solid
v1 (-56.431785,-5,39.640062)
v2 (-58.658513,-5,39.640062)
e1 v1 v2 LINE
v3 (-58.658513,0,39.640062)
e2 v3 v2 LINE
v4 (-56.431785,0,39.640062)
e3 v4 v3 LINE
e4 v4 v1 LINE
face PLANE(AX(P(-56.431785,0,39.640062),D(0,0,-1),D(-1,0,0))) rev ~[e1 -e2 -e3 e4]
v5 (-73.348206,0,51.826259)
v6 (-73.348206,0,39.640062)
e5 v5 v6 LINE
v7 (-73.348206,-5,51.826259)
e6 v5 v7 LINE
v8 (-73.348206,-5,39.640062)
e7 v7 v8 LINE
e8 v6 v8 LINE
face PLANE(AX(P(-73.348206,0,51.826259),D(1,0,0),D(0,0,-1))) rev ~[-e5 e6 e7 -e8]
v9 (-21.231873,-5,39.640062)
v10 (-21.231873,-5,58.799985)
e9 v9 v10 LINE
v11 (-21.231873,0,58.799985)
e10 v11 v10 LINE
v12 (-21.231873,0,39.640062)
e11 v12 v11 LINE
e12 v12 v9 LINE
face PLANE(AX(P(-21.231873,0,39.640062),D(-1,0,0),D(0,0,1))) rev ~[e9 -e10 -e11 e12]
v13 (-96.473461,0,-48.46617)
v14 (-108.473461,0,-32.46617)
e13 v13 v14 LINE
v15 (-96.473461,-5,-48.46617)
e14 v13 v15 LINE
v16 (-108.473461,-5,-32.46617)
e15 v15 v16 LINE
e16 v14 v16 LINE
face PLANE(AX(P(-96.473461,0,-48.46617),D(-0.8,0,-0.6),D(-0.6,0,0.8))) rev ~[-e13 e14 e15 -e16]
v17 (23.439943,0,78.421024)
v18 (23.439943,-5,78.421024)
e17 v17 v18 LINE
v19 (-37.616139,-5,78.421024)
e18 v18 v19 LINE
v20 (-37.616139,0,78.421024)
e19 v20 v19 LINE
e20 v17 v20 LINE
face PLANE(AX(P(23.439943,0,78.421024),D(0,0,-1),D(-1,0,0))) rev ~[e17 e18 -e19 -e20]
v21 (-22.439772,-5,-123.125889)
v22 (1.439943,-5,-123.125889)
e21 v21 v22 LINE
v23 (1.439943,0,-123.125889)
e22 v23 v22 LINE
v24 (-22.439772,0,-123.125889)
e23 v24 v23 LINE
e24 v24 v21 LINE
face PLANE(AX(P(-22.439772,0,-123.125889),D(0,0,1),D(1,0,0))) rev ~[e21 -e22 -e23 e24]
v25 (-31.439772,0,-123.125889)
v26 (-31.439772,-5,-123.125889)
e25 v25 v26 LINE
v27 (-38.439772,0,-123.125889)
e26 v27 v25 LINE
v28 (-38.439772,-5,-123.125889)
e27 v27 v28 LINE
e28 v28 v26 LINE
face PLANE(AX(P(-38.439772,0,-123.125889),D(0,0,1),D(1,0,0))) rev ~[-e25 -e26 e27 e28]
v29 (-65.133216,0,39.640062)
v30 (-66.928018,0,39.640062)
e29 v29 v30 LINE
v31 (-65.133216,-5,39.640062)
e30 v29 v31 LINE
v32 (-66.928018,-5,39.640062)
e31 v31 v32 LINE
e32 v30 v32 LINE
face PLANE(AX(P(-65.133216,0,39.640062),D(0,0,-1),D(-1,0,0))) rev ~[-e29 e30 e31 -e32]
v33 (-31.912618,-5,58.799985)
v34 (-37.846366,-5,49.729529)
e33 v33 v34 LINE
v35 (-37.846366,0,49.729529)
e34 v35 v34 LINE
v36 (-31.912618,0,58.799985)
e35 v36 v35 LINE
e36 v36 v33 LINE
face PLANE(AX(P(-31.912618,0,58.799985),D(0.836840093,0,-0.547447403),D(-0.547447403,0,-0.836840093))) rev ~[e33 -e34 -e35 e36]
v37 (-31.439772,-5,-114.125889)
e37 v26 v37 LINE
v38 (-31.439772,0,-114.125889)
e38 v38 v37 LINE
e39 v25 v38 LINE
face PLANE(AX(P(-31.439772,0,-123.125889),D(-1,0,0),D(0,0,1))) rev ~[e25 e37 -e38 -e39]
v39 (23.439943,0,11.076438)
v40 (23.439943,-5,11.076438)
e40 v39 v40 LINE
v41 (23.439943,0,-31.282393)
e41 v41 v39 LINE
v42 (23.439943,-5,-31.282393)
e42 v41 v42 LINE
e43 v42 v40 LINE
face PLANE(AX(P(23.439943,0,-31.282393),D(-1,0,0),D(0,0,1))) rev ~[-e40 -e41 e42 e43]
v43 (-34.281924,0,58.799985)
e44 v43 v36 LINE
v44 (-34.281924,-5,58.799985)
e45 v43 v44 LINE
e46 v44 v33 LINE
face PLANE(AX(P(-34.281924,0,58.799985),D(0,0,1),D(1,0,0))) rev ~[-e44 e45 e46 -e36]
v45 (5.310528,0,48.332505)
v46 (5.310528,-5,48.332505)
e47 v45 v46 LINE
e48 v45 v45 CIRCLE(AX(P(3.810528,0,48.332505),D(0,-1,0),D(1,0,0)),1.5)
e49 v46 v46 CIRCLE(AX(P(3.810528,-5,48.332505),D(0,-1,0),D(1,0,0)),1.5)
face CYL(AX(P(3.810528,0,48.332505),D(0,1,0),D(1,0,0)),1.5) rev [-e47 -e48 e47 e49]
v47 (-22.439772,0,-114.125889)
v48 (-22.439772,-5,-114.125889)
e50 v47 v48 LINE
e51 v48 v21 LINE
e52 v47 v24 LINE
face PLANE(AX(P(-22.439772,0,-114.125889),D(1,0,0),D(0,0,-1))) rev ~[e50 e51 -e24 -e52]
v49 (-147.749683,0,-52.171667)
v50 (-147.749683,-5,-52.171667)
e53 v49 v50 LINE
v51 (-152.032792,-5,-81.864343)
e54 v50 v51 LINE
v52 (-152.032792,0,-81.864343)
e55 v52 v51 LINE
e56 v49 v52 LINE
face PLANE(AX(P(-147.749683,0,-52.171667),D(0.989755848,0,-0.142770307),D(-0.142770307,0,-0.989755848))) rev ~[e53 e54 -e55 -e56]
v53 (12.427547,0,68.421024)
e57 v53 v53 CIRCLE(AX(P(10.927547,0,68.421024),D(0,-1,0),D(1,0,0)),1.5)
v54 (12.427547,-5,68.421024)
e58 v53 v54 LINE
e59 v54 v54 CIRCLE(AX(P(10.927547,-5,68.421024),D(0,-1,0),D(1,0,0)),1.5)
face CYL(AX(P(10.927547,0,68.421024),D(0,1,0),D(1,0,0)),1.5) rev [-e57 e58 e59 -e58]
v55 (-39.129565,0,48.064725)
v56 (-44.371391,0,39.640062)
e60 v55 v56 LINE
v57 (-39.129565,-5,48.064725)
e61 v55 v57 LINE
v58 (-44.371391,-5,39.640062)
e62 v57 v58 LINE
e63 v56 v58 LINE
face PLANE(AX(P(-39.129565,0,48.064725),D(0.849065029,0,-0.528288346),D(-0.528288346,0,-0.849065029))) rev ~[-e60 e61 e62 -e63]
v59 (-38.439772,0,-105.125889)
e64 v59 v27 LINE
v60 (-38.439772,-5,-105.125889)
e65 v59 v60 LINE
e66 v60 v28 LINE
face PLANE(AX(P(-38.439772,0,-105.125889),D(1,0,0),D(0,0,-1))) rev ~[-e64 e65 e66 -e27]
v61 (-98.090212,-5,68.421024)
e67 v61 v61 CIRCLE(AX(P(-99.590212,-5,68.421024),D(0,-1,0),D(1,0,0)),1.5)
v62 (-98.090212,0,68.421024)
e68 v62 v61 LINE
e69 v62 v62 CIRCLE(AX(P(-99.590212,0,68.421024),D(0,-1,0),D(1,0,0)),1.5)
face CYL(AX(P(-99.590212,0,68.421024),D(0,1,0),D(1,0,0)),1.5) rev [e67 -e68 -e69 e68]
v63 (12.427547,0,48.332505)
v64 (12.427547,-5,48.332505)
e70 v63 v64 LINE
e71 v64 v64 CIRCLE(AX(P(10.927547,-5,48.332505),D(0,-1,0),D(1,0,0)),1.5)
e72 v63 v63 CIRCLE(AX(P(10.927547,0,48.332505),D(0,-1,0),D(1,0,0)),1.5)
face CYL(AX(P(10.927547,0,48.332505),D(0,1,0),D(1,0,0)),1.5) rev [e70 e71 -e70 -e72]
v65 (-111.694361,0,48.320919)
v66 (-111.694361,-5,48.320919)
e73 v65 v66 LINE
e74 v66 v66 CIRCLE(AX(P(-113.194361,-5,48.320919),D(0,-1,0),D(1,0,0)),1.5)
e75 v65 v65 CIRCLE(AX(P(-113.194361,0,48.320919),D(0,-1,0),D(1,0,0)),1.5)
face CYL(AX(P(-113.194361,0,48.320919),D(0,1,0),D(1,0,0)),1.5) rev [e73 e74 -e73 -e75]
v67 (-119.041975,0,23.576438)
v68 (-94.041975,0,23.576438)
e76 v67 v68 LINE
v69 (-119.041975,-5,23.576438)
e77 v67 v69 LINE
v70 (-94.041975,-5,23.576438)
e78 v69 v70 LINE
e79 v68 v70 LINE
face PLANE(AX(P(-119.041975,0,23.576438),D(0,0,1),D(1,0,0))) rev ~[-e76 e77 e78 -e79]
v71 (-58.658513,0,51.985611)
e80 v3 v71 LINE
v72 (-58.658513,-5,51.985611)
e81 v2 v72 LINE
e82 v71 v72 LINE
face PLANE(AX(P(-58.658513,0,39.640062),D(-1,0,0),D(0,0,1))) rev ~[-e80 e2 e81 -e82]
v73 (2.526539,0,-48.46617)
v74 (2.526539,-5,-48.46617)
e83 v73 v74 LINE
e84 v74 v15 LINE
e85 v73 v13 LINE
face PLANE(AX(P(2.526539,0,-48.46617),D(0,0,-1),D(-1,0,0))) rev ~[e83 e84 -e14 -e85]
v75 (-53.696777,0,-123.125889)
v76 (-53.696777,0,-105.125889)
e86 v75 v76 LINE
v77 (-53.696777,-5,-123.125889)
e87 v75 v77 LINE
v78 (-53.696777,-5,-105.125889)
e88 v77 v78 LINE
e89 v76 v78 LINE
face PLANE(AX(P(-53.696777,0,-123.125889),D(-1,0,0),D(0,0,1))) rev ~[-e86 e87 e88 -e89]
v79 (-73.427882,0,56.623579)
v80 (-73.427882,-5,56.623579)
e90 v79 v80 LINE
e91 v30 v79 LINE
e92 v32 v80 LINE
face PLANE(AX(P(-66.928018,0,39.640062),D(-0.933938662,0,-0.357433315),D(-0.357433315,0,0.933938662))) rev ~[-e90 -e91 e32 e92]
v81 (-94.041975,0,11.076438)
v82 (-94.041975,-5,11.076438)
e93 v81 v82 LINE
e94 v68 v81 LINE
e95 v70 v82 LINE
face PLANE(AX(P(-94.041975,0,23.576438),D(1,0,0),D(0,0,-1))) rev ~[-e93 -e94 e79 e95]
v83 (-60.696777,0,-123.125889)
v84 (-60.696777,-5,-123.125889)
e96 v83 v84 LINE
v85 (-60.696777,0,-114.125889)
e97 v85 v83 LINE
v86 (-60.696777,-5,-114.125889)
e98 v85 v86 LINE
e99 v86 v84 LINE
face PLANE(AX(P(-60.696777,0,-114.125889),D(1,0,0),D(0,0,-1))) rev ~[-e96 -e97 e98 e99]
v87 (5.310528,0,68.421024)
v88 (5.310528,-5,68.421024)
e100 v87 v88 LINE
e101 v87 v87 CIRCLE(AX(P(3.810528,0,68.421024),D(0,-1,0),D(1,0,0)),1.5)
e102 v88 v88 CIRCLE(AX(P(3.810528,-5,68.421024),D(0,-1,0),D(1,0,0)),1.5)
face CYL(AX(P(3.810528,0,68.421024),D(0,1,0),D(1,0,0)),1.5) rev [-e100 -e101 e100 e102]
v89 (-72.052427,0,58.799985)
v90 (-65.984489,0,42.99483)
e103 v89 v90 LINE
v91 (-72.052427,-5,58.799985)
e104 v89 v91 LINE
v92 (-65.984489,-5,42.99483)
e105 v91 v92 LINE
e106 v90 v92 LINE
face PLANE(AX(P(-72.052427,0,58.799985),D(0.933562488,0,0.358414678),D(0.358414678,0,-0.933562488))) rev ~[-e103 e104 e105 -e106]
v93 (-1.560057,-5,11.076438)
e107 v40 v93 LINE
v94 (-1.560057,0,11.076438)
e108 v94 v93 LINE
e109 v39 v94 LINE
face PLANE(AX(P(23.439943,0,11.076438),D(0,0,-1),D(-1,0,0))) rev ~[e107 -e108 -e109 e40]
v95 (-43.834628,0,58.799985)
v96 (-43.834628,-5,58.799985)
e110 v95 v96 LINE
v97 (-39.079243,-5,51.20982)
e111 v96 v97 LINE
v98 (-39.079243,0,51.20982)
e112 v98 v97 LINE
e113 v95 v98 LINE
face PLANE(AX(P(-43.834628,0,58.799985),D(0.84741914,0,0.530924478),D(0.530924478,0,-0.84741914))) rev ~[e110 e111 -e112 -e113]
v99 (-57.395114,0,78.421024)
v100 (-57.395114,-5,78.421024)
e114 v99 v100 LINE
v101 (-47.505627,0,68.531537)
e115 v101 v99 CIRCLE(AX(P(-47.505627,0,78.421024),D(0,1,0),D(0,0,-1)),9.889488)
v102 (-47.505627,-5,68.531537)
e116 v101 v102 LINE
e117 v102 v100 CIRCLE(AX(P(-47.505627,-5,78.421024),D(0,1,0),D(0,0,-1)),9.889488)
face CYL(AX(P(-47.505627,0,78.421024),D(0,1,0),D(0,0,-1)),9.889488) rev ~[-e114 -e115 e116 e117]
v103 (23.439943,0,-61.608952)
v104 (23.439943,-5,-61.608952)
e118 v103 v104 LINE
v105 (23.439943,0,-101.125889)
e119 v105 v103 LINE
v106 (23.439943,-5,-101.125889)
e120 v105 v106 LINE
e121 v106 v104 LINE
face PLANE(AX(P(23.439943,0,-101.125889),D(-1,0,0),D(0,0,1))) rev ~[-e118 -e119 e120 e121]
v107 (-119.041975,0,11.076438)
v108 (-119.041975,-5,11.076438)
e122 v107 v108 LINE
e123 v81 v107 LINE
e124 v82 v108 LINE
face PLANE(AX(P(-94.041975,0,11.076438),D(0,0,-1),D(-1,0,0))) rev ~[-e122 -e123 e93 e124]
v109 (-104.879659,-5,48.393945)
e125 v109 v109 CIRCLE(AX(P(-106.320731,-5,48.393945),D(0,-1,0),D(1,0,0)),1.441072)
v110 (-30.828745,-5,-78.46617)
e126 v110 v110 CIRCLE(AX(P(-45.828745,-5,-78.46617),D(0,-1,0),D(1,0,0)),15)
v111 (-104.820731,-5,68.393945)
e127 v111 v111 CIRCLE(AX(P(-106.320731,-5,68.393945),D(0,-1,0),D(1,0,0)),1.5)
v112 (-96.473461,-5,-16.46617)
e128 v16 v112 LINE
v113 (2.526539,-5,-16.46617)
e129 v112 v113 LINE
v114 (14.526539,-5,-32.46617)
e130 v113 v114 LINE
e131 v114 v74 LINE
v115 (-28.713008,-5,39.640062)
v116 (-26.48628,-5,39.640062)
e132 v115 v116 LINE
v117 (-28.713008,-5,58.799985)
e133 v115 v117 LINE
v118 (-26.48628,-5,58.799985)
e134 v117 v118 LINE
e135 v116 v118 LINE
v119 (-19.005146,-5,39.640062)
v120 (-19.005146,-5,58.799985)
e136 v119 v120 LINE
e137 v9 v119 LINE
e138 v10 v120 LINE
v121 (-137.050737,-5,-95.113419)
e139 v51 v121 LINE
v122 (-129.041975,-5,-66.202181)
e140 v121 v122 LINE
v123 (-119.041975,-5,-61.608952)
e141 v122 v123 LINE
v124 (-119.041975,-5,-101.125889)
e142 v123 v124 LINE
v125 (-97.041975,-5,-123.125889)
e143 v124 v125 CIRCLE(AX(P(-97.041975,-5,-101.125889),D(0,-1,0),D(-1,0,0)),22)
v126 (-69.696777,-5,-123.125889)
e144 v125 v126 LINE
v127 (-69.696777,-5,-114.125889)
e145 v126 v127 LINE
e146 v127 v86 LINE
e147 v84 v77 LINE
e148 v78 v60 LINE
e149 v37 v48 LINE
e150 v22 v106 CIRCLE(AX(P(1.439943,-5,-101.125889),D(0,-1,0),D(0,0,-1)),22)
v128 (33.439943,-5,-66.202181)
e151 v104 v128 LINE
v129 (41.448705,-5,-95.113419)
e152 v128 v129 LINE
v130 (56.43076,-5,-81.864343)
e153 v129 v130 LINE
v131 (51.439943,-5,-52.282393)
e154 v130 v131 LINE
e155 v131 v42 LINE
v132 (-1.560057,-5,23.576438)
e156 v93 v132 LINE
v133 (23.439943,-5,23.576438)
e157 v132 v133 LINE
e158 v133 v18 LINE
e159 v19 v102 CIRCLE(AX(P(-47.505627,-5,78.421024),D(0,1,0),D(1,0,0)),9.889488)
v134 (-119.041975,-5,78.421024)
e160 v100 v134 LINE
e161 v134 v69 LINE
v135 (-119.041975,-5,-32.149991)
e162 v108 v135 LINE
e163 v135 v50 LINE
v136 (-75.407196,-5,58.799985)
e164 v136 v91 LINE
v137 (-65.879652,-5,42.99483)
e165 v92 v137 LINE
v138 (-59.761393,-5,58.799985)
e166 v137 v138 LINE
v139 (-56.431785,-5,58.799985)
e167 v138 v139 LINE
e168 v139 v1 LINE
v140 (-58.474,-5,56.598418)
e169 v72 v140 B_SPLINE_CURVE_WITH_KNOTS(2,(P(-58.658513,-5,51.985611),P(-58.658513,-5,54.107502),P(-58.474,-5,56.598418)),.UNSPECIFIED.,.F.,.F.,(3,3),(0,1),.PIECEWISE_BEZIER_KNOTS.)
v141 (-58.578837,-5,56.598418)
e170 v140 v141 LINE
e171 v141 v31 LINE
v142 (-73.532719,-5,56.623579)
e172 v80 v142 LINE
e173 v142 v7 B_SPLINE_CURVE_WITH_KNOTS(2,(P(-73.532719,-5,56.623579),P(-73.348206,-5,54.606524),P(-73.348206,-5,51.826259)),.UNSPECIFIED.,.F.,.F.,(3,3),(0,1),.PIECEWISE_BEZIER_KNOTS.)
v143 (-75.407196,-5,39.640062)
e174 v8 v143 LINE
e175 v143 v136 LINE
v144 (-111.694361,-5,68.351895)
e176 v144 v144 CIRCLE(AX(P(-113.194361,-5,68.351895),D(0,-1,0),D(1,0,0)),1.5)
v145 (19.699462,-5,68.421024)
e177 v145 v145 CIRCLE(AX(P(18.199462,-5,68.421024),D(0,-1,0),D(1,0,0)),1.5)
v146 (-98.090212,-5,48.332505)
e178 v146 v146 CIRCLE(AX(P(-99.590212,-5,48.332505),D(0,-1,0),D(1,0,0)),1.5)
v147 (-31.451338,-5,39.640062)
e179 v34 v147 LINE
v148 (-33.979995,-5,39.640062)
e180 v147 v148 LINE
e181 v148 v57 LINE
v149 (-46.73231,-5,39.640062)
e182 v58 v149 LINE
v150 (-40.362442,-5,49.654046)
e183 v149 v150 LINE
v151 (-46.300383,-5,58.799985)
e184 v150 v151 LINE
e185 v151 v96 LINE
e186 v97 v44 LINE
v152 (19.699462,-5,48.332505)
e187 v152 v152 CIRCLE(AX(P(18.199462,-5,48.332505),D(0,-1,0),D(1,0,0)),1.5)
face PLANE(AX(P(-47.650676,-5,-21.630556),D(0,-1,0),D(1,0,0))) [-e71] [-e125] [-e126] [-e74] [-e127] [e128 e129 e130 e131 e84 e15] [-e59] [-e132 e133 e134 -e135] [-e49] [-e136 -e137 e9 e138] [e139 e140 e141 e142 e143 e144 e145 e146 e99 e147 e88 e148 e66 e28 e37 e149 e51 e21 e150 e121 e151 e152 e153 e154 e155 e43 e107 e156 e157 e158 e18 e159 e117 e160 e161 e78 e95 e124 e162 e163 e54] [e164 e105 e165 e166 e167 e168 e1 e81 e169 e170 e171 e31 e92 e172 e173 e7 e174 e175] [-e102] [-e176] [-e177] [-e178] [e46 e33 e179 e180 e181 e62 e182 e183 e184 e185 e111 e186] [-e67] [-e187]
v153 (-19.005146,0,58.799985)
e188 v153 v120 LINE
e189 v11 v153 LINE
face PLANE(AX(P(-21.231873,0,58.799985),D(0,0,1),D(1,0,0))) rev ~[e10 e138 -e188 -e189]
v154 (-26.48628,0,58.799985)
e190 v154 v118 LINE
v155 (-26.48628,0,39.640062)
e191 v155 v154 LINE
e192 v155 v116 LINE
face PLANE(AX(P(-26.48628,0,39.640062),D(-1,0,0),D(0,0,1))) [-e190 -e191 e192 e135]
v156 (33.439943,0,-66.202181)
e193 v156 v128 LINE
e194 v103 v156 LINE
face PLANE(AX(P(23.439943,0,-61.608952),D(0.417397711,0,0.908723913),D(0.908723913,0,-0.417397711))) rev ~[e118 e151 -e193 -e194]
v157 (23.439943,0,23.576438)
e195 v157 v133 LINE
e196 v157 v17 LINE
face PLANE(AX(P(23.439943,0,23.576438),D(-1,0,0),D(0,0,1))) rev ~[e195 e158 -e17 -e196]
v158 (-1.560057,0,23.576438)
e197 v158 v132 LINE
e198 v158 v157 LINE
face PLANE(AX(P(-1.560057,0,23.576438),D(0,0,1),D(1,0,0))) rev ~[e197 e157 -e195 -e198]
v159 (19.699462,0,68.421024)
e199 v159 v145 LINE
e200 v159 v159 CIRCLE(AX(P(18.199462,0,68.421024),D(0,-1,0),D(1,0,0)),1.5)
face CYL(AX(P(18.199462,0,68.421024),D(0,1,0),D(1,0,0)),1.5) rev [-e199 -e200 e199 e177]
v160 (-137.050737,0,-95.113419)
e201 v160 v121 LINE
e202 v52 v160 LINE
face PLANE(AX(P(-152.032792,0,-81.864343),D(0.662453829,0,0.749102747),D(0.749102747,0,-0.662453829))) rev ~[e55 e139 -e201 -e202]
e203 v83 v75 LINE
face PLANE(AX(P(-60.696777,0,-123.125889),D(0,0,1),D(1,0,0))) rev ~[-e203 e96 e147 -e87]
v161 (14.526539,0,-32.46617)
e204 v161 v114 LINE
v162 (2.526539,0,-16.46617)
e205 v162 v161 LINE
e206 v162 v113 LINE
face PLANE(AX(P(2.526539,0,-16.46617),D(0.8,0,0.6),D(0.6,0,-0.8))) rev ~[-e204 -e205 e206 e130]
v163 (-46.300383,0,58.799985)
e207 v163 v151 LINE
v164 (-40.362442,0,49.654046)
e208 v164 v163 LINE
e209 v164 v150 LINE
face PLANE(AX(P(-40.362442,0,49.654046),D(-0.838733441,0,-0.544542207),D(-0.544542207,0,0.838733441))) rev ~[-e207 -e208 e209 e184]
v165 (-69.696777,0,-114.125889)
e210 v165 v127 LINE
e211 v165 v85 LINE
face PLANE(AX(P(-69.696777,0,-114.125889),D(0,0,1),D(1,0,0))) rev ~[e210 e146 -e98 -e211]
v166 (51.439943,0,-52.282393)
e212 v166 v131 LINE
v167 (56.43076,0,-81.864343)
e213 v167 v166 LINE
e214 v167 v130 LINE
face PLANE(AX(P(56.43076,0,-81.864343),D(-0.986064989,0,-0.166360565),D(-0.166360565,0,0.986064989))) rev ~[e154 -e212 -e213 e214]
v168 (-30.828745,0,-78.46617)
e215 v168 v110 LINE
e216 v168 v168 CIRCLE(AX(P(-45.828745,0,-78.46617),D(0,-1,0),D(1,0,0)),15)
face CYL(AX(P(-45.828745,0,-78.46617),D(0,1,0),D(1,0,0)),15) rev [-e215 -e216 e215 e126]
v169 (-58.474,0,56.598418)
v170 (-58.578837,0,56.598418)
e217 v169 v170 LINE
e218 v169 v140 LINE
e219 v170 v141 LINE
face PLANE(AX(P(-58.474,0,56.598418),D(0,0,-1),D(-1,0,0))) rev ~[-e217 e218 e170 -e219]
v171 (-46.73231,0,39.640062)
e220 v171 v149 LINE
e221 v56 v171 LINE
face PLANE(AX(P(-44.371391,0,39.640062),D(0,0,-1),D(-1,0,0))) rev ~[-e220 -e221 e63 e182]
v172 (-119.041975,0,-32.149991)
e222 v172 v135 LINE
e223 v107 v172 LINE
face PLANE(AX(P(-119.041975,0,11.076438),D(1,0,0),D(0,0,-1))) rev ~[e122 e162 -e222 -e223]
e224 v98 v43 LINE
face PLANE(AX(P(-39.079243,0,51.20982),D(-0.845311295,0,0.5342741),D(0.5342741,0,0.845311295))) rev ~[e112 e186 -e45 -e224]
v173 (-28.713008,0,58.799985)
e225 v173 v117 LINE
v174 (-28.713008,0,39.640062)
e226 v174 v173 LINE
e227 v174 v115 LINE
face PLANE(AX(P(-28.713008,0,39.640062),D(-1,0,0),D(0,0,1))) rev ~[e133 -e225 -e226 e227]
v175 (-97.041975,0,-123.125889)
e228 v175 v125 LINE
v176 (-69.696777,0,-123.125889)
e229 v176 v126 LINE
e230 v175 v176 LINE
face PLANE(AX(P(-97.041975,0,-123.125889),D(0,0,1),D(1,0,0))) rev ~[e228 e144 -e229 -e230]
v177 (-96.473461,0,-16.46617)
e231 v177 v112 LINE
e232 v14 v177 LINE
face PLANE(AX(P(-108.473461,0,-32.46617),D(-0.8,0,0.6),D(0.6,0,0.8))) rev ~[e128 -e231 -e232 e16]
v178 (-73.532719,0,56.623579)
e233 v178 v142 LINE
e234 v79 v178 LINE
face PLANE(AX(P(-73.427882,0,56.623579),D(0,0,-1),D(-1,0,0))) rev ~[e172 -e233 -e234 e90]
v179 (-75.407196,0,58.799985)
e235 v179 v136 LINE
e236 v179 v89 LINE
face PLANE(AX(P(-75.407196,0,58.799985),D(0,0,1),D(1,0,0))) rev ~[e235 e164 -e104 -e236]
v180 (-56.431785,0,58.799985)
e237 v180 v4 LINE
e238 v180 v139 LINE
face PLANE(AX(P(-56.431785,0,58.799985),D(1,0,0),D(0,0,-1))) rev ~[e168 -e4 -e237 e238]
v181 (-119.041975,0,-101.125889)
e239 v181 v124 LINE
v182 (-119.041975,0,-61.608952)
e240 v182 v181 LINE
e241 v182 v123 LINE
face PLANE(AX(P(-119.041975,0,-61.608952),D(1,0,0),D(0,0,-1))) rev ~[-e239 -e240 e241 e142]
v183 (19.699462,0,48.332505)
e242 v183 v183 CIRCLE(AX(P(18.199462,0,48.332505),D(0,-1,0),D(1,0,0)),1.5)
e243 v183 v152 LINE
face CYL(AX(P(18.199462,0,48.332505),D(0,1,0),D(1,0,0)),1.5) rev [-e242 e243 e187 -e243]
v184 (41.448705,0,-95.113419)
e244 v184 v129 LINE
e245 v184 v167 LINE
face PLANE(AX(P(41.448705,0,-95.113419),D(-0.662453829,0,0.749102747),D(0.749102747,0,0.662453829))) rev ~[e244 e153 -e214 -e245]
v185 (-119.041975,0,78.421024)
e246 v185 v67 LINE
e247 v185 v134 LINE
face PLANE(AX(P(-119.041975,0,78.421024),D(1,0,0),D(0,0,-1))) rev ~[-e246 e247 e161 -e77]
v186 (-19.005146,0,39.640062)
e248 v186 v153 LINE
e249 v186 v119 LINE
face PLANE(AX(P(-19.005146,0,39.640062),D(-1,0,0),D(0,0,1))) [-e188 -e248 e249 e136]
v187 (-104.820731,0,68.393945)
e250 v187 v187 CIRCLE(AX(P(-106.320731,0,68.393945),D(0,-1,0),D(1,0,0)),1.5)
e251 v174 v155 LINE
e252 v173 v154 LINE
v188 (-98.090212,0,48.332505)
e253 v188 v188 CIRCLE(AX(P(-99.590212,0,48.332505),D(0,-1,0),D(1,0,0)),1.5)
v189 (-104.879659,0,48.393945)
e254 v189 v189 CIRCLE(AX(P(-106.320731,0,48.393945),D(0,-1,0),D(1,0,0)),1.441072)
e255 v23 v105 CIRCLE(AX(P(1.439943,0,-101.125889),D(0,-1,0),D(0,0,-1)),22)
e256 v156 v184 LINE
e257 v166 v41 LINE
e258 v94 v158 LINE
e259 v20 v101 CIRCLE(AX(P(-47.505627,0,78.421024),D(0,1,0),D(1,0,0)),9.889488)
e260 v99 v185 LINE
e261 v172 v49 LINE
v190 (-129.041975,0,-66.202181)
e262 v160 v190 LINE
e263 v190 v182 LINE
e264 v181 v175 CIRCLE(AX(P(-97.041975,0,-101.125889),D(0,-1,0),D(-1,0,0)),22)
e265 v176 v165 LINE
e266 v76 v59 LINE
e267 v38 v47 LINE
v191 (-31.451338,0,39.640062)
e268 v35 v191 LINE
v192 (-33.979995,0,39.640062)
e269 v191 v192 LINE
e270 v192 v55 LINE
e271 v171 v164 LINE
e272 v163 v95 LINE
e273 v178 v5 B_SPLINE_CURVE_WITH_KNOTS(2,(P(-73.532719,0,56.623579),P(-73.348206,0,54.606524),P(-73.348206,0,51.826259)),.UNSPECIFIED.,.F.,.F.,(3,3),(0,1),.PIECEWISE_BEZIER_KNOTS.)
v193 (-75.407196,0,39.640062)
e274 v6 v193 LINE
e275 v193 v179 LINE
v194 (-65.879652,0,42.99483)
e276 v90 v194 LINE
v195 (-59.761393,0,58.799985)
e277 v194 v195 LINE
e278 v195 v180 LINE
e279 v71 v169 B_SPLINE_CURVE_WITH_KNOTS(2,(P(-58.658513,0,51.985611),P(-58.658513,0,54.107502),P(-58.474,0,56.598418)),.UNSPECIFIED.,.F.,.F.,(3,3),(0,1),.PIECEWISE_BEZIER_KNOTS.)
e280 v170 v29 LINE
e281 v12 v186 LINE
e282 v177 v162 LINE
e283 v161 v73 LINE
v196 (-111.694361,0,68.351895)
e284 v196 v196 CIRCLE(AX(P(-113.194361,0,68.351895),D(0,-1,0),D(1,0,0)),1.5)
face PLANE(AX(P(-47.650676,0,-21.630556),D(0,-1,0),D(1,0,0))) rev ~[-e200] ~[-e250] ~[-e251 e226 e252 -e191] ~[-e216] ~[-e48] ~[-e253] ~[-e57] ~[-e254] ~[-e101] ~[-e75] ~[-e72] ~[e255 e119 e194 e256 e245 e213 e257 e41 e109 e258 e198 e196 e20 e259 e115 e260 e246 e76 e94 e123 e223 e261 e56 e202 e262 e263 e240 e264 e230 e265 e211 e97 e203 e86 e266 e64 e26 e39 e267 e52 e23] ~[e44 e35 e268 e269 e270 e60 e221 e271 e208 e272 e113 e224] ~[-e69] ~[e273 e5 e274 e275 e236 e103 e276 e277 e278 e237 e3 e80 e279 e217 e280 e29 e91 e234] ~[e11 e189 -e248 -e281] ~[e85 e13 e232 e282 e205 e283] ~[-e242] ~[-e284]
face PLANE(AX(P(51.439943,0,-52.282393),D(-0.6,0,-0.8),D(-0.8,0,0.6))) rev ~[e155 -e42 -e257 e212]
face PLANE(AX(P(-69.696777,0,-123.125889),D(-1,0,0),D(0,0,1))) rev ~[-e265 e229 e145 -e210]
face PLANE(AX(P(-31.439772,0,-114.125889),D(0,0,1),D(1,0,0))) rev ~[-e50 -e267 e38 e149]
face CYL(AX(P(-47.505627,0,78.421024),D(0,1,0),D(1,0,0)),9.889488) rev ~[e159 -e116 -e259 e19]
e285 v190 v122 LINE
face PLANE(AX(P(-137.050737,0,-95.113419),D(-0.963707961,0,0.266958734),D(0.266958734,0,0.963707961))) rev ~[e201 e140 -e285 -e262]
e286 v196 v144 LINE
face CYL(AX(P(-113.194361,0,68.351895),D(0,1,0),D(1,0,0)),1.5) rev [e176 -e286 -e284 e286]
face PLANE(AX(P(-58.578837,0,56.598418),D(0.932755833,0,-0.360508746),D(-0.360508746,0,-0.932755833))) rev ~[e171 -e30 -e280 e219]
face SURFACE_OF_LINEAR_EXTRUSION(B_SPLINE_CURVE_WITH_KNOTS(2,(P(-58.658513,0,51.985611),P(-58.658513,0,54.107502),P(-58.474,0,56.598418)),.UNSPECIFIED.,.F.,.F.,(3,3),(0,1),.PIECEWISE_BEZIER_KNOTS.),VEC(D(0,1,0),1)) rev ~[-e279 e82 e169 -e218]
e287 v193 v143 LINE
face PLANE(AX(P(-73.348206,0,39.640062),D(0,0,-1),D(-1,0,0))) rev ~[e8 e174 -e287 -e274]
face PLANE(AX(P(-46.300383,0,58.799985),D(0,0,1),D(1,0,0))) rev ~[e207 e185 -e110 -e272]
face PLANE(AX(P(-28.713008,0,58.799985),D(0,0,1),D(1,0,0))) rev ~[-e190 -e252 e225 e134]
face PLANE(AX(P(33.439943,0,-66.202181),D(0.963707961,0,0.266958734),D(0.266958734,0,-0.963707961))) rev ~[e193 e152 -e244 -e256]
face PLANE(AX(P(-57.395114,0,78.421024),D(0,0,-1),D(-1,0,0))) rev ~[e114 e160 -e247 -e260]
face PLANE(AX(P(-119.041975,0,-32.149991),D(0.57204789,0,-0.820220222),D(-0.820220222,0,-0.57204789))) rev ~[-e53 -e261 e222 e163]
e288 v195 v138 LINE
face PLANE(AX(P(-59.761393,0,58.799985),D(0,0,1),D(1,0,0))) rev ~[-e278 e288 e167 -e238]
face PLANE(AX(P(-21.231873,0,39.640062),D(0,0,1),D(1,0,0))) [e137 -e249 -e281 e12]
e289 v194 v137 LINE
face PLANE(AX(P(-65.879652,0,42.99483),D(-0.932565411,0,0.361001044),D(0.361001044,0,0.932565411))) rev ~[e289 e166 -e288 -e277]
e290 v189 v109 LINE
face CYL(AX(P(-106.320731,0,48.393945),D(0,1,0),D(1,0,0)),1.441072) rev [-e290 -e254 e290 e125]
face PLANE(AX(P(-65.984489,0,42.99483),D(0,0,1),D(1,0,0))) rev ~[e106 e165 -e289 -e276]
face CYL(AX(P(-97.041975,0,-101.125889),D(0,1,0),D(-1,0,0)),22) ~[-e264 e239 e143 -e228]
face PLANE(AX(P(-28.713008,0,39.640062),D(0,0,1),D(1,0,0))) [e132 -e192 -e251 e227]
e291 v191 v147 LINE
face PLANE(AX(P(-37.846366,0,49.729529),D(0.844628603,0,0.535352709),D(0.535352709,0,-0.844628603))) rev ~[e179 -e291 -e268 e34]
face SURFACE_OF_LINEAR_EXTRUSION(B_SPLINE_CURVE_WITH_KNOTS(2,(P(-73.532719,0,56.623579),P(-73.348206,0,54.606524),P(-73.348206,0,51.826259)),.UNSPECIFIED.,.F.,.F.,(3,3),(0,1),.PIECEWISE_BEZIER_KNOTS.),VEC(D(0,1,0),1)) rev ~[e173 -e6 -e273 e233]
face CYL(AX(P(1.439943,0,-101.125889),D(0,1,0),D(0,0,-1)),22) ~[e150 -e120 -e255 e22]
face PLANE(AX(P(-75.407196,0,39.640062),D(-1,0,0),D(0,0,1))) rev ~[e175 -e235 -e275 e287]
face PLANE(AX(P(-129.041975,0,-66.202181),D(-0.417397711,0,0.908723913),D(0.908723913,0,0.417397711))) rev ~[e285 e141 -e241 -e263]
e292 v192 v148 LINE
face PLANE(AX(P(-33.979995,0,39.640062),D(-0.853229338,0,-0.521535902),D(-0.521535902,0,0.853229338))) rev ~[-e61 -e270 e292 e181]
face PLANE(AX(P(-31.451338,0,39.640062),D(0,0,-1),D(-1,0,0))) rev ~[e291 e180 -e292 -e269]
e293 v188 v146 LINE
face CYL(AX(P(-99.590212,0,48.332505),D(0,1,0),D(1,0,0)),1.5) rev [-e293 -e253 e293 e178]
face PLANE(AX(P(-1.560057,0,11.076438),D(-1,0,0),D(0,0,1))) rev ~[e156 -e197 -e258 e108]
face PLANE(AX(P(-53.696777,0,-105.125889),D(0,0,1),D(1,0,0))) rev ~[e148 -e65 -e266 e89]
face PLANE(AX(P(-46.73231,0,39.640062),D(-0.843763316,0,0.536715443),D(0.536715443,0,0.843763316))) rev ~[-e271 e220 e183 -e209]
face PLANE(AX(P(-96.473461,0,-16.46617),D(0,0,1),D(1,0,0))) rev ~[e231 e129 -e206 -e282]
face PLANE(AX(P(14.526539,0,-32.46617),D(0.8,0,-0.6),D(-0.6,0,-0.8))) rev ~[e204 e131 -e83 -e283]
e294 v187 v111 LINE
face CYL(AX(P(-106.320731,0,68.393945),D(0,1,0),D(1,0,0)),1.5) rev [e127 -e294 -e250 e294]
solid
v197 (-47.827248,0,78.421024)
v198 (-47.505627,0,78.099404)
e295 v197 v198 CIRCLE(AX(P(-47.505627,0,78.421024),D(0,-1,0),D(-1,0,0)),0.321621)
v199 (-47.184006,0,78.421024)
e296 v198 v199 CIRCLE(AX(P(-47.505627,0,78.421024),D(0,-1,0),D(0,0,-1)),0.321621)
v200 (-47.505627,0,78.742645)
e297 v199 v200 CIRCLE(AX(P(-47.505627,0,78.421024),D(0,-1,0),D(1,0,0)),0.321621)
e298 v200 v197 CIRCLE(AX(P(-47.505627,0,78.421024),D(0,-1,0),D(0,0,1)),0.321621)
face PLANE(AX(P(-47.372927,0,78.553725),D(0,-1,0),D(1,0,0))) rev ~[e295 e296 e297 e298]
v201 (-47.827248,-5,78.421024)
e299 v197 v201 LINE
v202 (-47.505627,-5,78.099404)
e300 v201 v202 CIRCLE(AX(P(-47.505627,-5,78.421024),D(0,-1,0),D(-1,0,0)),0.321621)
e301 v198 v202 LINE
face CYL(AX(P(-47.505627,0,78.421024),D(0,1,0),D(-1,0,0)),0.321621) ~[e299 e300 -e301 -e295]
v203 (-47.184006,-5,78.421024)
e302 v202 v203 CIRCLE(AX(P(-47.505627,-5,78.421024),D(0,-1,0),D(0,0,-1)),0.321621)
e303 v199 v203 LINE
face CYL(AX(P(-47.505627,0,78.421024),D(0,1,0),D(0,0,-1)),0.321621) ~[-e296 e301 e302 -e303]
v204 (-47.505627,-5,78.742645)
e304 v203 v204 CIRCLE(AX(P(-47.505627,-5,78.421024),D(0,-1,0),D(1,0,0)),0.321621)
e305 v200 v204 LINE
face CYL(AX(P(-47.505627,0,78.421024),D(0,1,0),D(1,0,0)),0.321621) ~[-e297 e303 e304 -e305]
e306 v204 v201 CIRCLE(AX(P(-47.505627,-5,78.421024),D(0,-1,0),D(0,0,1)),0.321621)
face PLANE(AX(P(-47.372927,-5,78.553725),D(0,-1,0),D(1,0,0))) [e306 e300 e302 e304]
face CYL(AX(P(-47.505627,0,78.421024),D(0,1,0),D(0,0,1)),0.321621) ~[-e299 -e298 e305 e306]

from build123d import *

# Parameters (mm, degrees)
F0_R     = 15
F0_R_2   = 1.5
F0_R_3   = 1.441072342
F0_W     = 2.2267277818
F0_H     = 19.15992323
F1_DEPTH = 5
F2_DEPTH = 5


with BuildPart() as f1:
    # F0 (on Front) → F1 (new body)
    with BuildSketch(Plane.XZ):
        with BuildLine():
            Line((-57.3951144738, 78.4210244134), (-119.0419751526, 78.4210244134))
            Line((-119.0419751526, 78.4210244134), (-119.0419751526, 23.5764375642))
            Line((-119.0419751526, 23.5764375642), (-94.0419751526, 23.5764375642))
            Line((-94.0419751526, 23.5764375642), (-94.0419751526, 11.0764375642))
            Line((-94.0419751526, 11.0764375642), (-119.0419751526, 11.0764375642))
            Line((-119.0419751526, 11.0764375642), (-119.0419751526, -32.1499912984))
            Line((-119.0419751526, -32.1499912984), (-119.0419751526, -61.6089515388))
            Line((-119.0419751526, -61.6089515388), (-119.0419751526, -101.1258891719))
            ThreePointArc((-119.0419751526, -101.1258891719), (-112.5983243387, -116.682238358), (-97.0419751526, -123.1258891719))
            Line((-97.0419751526, -123.1258891719), (-69.6967765689, -123.1258891719))
            Line((-69.6967765689, -123.1258891719), (-69.6967765689, -114.1258891719))
            Line((-69.6967765689, -114.1258891719), (-60.6967765689, -114.1258891719))
            Line((-60.6967765689, -114.1258891719), (-60.6967765689, -123.1258891719))
            Line((-60.6967765689, -123.1258891719), (-53.6967765689, -123.1258891719))
            Line((-53.6967765689, -123.1258891719), (-53.6967765689, -105.1258891719))
            Line((-53.6967765689, -105.1258891719), (-38.4397715134, -105.1258891719))
            Line((-38.4397715134, -105.1258891719), (-38.4397715134, -123.1258891719))
            Line((-38.4397715134, -123.1258891719), (-31.4397715134, -123.1258891719))
            Line((-31.4397715134, -123.1258891719), (-31.4397715134, -114.1258891719))
            Line((-31.4397715134, -114.1258891719), (-22.4397715134, -114.1258891719))
            Line((-22.4397715134, -114.1258891719), (-22.4397715134, -123.1258891719))
            Line((-22.4397715134, -123.1258891719), (1.4399430895, -123.1258891719))
            ThreePointArc((1.4399430895, -123.1258891719), (16.9962922756, -116.682238358), (23.4399430895, -101.1258891719))
            Line((23.4399430895, -101.1258891719), (23.4399430895, -61.6089515388))
            Line((23.4399430895, -61.6089515388), (23.4399430895, -31.2823932228))
            Line((23.4399430895, -31.2823932228), (23.4399430895, 11.0764375642))
            Line((23.4399430895, 11.0764375642), (-1.5600569105, 11.0764375642))
            Line((-1.5600569105, 11.0764375642), (-1.5600569105, 23.5764375642))
            Line((-1.5600569105, 23.5764375642), (23.4399430895, 23.5764375642))
            Line((23.4399430895, 23.5764375642), (23.4399430895, 68.4210244134))
            Line((23.4399430895, 68.4210244134), (23.4399430895, 78.4210244134))
            Line((23.4399430895, 78.4210244134), (-37.6161391418, 78.4210244134))
            ThreePointArc((-37.6161391418, 78.4210244134), (-40.5127030167, 71.4281006223), (-47.5056268078, 68.5315367474))
            ThreePointArc((-47.5056268078, 68.5315367474), (-54.4985505989, 71.4281006223), (-57.3951144738, 78.4210244134))
        make_face()
        with Locations((-45.8287447691, -78.4661704674)):
            Circle(F0_R, mode=Mode.SUBTRACT)
        Polygon((-108.4734608098, -32.4661704674), (-96.4734608098, -16.4661704674), (2.5265391902, -16.4661704674), (14.5265391902, -32.4661704674), (2.5265391902, -48.4661704674), (-96.4734608098, -48.4661704674), align=None, mode=Mode.SUBTRACT)
        with Locations((-113.1943613291, 48.3209192753)):
            Circle(F0_R_2, mode=Mode.SUBTRACT)
        with Locations((-106.3207313418, 48.3939448312)):
            Circle(F0_R_3, mode=Mode.SUBTRACT)
        with Locations((-113.1943613291, 68.3518946171)):
            Circle(F0_R_2, mode=Mode.SUBTRACT)
        with Locations((-106.3207313418, 68.3939448312)):
            Circle(F0_R_2, mode=Mode.SUBTRACT)
        with Locations((-99.5902121067, 48.3325049281)):
            Circle(F0_R_2, mode=Mode.SUBTRACT)
        with BuildLine():
            Line((-65.1332163252, 39.6400615573), (-66.9280176258, 39.6400615573))
            Line((-66.9280176258, 39.6400615573), (-73.427882149, 56.6235785373))
            Line((-73.427882149, 56.6235785373), (-73.5327186736, 56.6235785373))
            add(Edge.make_bspline(
                [(-73.5327186736, 56.6235785373), (-73.3482063903, 54.6065238046), (-73.3482063903, 51.826259173)],
                knots=[0, 0, 0, 1, 1, 1], degree=2))
            Line((-73.3482063903, 51.826259173), (-73.3482063903, 39.6400615573))
            Line((-73.3482063903, 39.6400615573), (-75.4071957328, 39.6400615573))
            Line((-75.4071957328, 39.6400615573), (-75.4071957328, 58.7999847873))
            Line((-75.4071957328, 58.7999847873), (-72.0524269467, 58.7999847873))
            Line((-72.0524269467, 58.7999847873), (-65.9844889047, 42.9948303435))
            Line((-65.9844889047, 42.9948303435), (-65.8796523801, 42.9948303435))
            Line((-65.8796523801, 42.9948303435), (-59.7613928063, 58.7999847873))
            Line((-59.7613928063, 58.7999847873), (-56.4317847861, 58.7999847873))
            Line((-56.4317847861, 58.7999847873), (-56.4317847861, 39.6400615573))
            Line((-56.4317847861, 39.6400615573), (-58.6585125679, 39.6400615573))
            Line((-58.6585125679, 39.6400615573), (-58.6585125679, 51.9856106904))
            add(Edge.make_bspline(
                [(-58.6585125679, 51.9856106904), (-58.6585125679, 54.1075019476), (-58.4740002847, 56.5984177714)],
                knots=[0, 0, 0, 1, 1, 1], degree=2))
            Line((-58.4740002847, 56.5984177714), (-58.5788368092, 56.5984177714))
            Line((-58.5788368092, 56.5984177714), (-65.1332163252, 39.6400615573))
        make_face(mode=Mode.SUBTRACT)
        with Locations((-99.5902121067, 68.4210244134)):
            Circle(F0_R_2, mode=Mode.SUBTRACT)
        Polygon((-37.8463657107, 49.7295286817), (-31.4513377121, 39.6400615573), (-33.9799946847, 39.6400615573), (-39.1295647714, 48.0647246716), (-44.3713909998, 39.6400615573), (-46.7323095331, 39.6400615573), (-40.3624423003, 49.654046384), (-46.3003830519, 58.7999847873), (-43.834627994, 58.7999847873), (-39.0792432396, 51.2098204086), (-34.2819238754, 58.7999847873), (-31.9126184202, 58.7999847873), align=None, mode=Mode.SUBTRACT)
        with Locations((-27.5996437995, 49.2200231723)):
            Rectangle(F0_W, F0_H, mode=Mode.SUBTRACT)
        with Locations((-20.1185094063, 49.2200231723)):
            Rectangle(F0_W, F0_H, mode=Mode.SUBTRACT)
        with Locations((3.8105277345, 48.3325049281)):
            Circle(F0_R_2, mode=Mode.SUBTRACT)
        with Locations((3.8105277345, 68.4210244134)):
            Circle(F0_R_2, mode=Mode.SUBTRACT)
        with Locations((10.9275467694, 48.3325049281)):
            Circle(F0_R_2, mode=Mode.SUBTRACT)
        with Locations((18.1994624436, 48.3325049281)):
            Circle(F0_R_2, mode=Mode.SUBTRACT)
        with Locations((10.9275467694, 68.4210244134)):
            Circle(F0_R_2, mode=Mode.SUBTRACT)
        with Locations((18.1994624436, 68.4210244134)):
            Circle(F0_R_2, mode=Mode.SUBTRACT)
        Polygon((-119.0419751526, -61.6089515388), (-119.0419751526, -32.1499912984), (-147.7496829089, -52.1716674367), (-152.0327921053, -81.8643428906), (-137.0507371719, -95.1134194612), (-129.0419751526, -66.2021806272), align=None)
        Polygon((51.4399430895, -52.2823932228), (23.4399430895, -31.2823932228), (23.4399430895, -61.6089515388), (33.4399430895, -66.2021806272), (41.4487051088, -95.1134194612), (56.4307600421, -81.8643428906), align=None)
    extrude(amount=F1_DEPTH)

    # F0 (on Front) → F2 (join)
    with BuildSketch(Plane.XZ):
        with BuildLine():
            Line((-57.3951144738, 78.4210244134), (-119.0419751526, 78.4210244134))
            Line((-119.0419751526, 78.4210244134), (-119.0419751526, 23.5764375642))
            Line((-119.0419751526, 23.5764375642), (-94.0419751526, 23.5764375642))
            Line((-94.0419751526, 23.5764375642), (-94.0419751526, 11.0764375642))
            Line((-94.0419751526, 11.0764375642), (-119.0419751526, 11.0764375642))
            Line((-119.0419751526, 11.0764375642), (-119.0419751526, -32.1499912984))
            Line((-119.0419751526, -32.1499912984), (-119.0419751526, -61.6089515388))
            Line((-119.0419751526, -61.6089515388), (-119.0419751526, -101.1258891719))
            ThreePointArc((-119.0419751526, -101.1258891719), (-112.5983243387, -116.682238358), (-97.0419751526, -123.1258891719))
            Line((-97.0419751526, -123.1258891719), (-69.6967765689, -123.1258891719))
            Line((-69.6967765689, -123.1258891719), (-69.6967765689, -114.1258891719))
            Line((-69.6967765689, -114.1258891719), (-60.6967765689, -114.1258891719))
            Line((-60.6967765689, -114.1258891719), (-60.6967765689, -123.1258891719))
            Line((-60.6967765689, -123.1258891719), (-53.6967765689, -123.1258891719))
            Line((-53.6967765689, -123.1258891719), (-53.6967765689, -105.1258891719))
            Line((-53.6967765689, -105.1258891719), (-38.4397715134, -105.1258891719))
            Line((-38.4397715134, -105.1258891719), (-38.4397715134, -123.1258891719))
            Line((-38.4397715134, -123.1258891719), (-31.4397715134, -123.1258891719))
            Line((-31.4397715134, -123.1258891719), (-31.4397715134, -114.1258891719))
            Line((-31.4397715134, -114.1258891719), (-22.4397715134, -114.1258891719))
            Line((-22.4397715134, -114.1258891719), (-22.4397715134, -123.1258891719))
            Line((-22.4397715134, -123.1258891719), (1.4399430895, -123.1258891719))
            ThreePointArc((1.4399430895, -123.1258891719), (16.9962922756, -116.682238358), (23.4399430895, -101.1258891719))
            Line((23.4399430895, -101.1258891719), (23.4399430895, -61.6089515388))
            Line((23.4399430895, -61.6089515388), (23.4399430895, -31.2823932228))
            Line((23.4399430895, -31.2823932228), (23.4399430895, 11.0764375642))
            Line((23.4399430895, 11.0764375642), (-1.5600569105, 11.0764375642))
            Line((-1.5600569105, 11.0764375642), (-1.5600569105, 23.5764375642))
            Line((-1.5600569105, 23.5764375642), (23.4399430895, 23.5764375642))
            Line((23.4399430895, 23.5764375642), (23.4399430895, 68.4210244134))
            Line((23.4399430895, 68.4210244134), (23.4399430895, 78.4210244134))
            Line((23.4399430895, 78.4210244134), (-37.6161391418, 78.4210244134))
            ThreePointArc((-37.6161391418, 78.4210244134), (-40.5127030167, 71.4281006223), (-47.5056268078, 68.5315367474))
            ThreePointArc((-47.5056268078, 68.5315367474), (-54.4985505989, 71.4281006223), (-57.3951144738, 78.4210244134))
        make_face()
        with Locations((-45.8287447691, -78.4661704674)):
            Circle(F0_R, mode=Mode.SUBTRACT)
        Polygon((-108.4734608098, -32.4661704674), (-96.4734608098, -16.4661704674), (2.5265391902, -16.4661704674), (14.5265391902, -32.4661704674), (2.5265391902, -48.4661704674), (-96.4734608098, -48.4661704674), align=None, mode=Mode.SUBTRACT)
        with Locations((-113.1943613291, 48.3209192753)):
            Circle(F0_R_2, mode=Mode.SUBTRACT)
        with Locations((-106.3207313418, 48.3939448312)):
            Circle(F0_R_3, mode=Mode.SUBTRACT)
        with Locations((-113.1943613291, 68.3518946171)):
            Circle(F0_R_2, mode=Mode.SUBTRACT)
        with Locations((-106.3207313418, 68.3939448312)):
            Circle(F0_R_2, mode=Mode.SUBTRACT)
        with Locations((-99.5902121067, 48.3325049281)):
            Circle(F0_R_2, mode=Mode.SUBTRACT)
        with BuildLine():
            Line((-65.1332163252, 39.6400615573), (-66.9280176258, 39.6400615573))
            Line((-66.9280176258, 39.6400615573), (-73.427882149, 56.6235785373))
            Line((-73.427882149, 56.6235785373), (-73.5327186736, 56.6235785373))
            add(Edge.make_bspline(
                [(-73.5327186736, 56.6235785373), (-73.3482063903, 54.6065238046), (-73.3482063903, 51.826259173)],
                knots=[0, 0, 0, 1, 1, 1], degree=2))
            Line((-73.3482063903, 51.826259173), (-73.3482063903, 39.6400615573))
            Line((-73.3482063903, 39.6400615573), (-75.4071957328, 39.6400615573))
            Line((-75.4071957328, 39.6400615573), (-75.4071957328, 58.7999847873))
            Line((-75.4071957328, 58.7999847873), (-72.0524269467, 58.7999847873))
            Line((-72.0524269467, 58.7999847873), (-65.9844889047, 42.9948303435))
            Line((-65.9844889047, 42.9948303435), (-65.8796523801, 42.9948303435))
            Line((-65.8796523801, 42.9948303435), (-59.7613928063, 58.7999847873))
            Line((-59.7613928063, 58.7999847873), (-56.4317847861, 58.7999847873))
            Line((-56.4317847861, 58.7999847873), (-56.4317847861, 39.6400615573))
            Line((-56.4317847861, 39.6400615573), (-58.6585125679, 39.6400615573))
            Line((-58.6585125679, 39.6400615573), (-58.6585125679, 51.9856106904))
            add(Edge.make_bspline(
                [(-58.6585125679, 51.9856106904), (-58.6585125679, 54.1075019476), (-58.4740002847, 56.5984177714)],
                knots=[0, 0, 0, 1, 1, 1], degree=2))
            Line((-58.4740002847, 56.5984177714), (-58.5788368092, 56.5984177714))
            Line((-58.5788368092, 56.5984177714), (-65.1332163252, 39.6400615573))
        make_face(mode=Mode.SUBTRACT)
        with Locations((-99.5902121067, 68.4210244134)):
            Circle(F0_R_2, mode=Mode.SUBTRACT)
        Polygon((-37.8463657107, 49.7295286817), (-31.4513377121, 39.6400615573), (-33.9799946847, 39.6400615573), (-39.1295647714, 48.0647246716), (-44.3713909998, 39.6400615573), (-46.7323095331, 39.6400615573), (-40.3624423003, 49.654046384), (-46.3003830519, 58.7999847873), (-43.834627994, 58.7999847873), (-39.0792432396, 51.2098204086), (-34.2819238754, 58.7999847873), (-31.9126184202, 58.7999847873), align=None, mode=Mode.SUBTRACT)
        with Locations((-27.5996437995, 49.2200231723)):
            Rectangle(F0_W, F0_H, mode=Mode.SUBTRACT)
        with Locations((-20.1185094063, 49.2200231723)):
            Rectangle(F0_W, F0_H, mode=Mode.SUBTRACT)
        with Locations((3.8105277345, 48.3325049281)):
            Circle(F0_R_2, mode=Mode.SUBTRACT)
        with Locations((3.8105277345, 68.4210244134)):
            Circle(F0_R_2, mode=Mode.SUBTRACT)
        with Locations((10.9275467694, 48.3325049281)):
            Circle(F0_R_2, mode=Mode.SUBTRACT)
        with Locations((18.1994624436, 48.3325049281)):
            Circle(F0_R_2, mode=Mode.SUBTRACT)
        with Locations((10.9275467694, 68.4210244134)):
            Circle(F0_R_2, mode=Mode.SUBTRACT)
        with Locations((18.1994624436, 68.4210244134)):
            Circle(F0_R_2, mode=Mode.SUBTRACT)
        Polygon((-119.0419751526, -61.6089515388), (-119.0419751526, -32.1499912984), (-147.7496829089, -52.1716674367), (-152.0327921053, -81.8643428906), (-137.0507371719, -95.1134194612), (-129.0419751526, -66.2021806272), align=None)
        Polygon((51.4399430895, -52.2823932228), (23.4399430895, -31.2823932228), (23.4399430895, -61.6089515388), (33.4399430895, -66.2021806272), (41.4487051088, -95.1134194612), (56.4307600421, -81.8643428906), align=None)
    extrude(amount=F2_DEPTH)


with BuildPart() as f2:
    # F0 (on Front) → F2, piece 2 (new body)
    with BuildSketch(Plane.XZ):
        with BuildLine():
            ThreePointArc((-47.184005962, 78.4210244134), (-47.2782065268, 78.6484446944), (-47.5056268078, 78.7426452592))
            Line((-47.5056268078, 78.7426452592), (-47.5056268078, 78.4210244134))
            Line((-47.5056268078, 78.4210244134), (-47.184005962, 78.4210244134))
        make_face()
        with BuildLine():
            Line((-47.5056268078, 78.4210244134), (-47.5056268078, 78.7426452592))
            ThreePointArc((-47.5056268078, 78.7426452592), (-47.7330470888, 78.6484446944), (-47.8272476536, 78.4210244134))
            Line((-47.8272476536, 78.4210244134), (-47.5056268078, 78.4210244134))
        make_face()
        with BuildLine():
            Line((-47.184005962, 78.4210244134), (-47.5056268078, 78.4210244134))
            Line((-47.5056268078, 78.4210244134), (-47.5056268078, 78.0994035676))
            ThreePointArc((-47.5056268078, 78.0994035676), (-47.2782065268, 78.1936041324), (-47.184005962, 78.4210244134))
        make_face()
        with BuildLine():
            Line((-47.5056268078, 78.0994035676), (-47.5056268078, 78.4210244134))
            Line((-47.5056268078, 78.4210244134), (-47.8272476536, 78.4210244134))
            ThreePointArc((-47.8272476536, 78.4210244134), (-47.7330470888, 78.1936041324), (-47.5056268078, 78.0994035676))
        make_face()
    extrude(amount=F2_DEPTH)


solid = Compound([f1.part, f2.part])
